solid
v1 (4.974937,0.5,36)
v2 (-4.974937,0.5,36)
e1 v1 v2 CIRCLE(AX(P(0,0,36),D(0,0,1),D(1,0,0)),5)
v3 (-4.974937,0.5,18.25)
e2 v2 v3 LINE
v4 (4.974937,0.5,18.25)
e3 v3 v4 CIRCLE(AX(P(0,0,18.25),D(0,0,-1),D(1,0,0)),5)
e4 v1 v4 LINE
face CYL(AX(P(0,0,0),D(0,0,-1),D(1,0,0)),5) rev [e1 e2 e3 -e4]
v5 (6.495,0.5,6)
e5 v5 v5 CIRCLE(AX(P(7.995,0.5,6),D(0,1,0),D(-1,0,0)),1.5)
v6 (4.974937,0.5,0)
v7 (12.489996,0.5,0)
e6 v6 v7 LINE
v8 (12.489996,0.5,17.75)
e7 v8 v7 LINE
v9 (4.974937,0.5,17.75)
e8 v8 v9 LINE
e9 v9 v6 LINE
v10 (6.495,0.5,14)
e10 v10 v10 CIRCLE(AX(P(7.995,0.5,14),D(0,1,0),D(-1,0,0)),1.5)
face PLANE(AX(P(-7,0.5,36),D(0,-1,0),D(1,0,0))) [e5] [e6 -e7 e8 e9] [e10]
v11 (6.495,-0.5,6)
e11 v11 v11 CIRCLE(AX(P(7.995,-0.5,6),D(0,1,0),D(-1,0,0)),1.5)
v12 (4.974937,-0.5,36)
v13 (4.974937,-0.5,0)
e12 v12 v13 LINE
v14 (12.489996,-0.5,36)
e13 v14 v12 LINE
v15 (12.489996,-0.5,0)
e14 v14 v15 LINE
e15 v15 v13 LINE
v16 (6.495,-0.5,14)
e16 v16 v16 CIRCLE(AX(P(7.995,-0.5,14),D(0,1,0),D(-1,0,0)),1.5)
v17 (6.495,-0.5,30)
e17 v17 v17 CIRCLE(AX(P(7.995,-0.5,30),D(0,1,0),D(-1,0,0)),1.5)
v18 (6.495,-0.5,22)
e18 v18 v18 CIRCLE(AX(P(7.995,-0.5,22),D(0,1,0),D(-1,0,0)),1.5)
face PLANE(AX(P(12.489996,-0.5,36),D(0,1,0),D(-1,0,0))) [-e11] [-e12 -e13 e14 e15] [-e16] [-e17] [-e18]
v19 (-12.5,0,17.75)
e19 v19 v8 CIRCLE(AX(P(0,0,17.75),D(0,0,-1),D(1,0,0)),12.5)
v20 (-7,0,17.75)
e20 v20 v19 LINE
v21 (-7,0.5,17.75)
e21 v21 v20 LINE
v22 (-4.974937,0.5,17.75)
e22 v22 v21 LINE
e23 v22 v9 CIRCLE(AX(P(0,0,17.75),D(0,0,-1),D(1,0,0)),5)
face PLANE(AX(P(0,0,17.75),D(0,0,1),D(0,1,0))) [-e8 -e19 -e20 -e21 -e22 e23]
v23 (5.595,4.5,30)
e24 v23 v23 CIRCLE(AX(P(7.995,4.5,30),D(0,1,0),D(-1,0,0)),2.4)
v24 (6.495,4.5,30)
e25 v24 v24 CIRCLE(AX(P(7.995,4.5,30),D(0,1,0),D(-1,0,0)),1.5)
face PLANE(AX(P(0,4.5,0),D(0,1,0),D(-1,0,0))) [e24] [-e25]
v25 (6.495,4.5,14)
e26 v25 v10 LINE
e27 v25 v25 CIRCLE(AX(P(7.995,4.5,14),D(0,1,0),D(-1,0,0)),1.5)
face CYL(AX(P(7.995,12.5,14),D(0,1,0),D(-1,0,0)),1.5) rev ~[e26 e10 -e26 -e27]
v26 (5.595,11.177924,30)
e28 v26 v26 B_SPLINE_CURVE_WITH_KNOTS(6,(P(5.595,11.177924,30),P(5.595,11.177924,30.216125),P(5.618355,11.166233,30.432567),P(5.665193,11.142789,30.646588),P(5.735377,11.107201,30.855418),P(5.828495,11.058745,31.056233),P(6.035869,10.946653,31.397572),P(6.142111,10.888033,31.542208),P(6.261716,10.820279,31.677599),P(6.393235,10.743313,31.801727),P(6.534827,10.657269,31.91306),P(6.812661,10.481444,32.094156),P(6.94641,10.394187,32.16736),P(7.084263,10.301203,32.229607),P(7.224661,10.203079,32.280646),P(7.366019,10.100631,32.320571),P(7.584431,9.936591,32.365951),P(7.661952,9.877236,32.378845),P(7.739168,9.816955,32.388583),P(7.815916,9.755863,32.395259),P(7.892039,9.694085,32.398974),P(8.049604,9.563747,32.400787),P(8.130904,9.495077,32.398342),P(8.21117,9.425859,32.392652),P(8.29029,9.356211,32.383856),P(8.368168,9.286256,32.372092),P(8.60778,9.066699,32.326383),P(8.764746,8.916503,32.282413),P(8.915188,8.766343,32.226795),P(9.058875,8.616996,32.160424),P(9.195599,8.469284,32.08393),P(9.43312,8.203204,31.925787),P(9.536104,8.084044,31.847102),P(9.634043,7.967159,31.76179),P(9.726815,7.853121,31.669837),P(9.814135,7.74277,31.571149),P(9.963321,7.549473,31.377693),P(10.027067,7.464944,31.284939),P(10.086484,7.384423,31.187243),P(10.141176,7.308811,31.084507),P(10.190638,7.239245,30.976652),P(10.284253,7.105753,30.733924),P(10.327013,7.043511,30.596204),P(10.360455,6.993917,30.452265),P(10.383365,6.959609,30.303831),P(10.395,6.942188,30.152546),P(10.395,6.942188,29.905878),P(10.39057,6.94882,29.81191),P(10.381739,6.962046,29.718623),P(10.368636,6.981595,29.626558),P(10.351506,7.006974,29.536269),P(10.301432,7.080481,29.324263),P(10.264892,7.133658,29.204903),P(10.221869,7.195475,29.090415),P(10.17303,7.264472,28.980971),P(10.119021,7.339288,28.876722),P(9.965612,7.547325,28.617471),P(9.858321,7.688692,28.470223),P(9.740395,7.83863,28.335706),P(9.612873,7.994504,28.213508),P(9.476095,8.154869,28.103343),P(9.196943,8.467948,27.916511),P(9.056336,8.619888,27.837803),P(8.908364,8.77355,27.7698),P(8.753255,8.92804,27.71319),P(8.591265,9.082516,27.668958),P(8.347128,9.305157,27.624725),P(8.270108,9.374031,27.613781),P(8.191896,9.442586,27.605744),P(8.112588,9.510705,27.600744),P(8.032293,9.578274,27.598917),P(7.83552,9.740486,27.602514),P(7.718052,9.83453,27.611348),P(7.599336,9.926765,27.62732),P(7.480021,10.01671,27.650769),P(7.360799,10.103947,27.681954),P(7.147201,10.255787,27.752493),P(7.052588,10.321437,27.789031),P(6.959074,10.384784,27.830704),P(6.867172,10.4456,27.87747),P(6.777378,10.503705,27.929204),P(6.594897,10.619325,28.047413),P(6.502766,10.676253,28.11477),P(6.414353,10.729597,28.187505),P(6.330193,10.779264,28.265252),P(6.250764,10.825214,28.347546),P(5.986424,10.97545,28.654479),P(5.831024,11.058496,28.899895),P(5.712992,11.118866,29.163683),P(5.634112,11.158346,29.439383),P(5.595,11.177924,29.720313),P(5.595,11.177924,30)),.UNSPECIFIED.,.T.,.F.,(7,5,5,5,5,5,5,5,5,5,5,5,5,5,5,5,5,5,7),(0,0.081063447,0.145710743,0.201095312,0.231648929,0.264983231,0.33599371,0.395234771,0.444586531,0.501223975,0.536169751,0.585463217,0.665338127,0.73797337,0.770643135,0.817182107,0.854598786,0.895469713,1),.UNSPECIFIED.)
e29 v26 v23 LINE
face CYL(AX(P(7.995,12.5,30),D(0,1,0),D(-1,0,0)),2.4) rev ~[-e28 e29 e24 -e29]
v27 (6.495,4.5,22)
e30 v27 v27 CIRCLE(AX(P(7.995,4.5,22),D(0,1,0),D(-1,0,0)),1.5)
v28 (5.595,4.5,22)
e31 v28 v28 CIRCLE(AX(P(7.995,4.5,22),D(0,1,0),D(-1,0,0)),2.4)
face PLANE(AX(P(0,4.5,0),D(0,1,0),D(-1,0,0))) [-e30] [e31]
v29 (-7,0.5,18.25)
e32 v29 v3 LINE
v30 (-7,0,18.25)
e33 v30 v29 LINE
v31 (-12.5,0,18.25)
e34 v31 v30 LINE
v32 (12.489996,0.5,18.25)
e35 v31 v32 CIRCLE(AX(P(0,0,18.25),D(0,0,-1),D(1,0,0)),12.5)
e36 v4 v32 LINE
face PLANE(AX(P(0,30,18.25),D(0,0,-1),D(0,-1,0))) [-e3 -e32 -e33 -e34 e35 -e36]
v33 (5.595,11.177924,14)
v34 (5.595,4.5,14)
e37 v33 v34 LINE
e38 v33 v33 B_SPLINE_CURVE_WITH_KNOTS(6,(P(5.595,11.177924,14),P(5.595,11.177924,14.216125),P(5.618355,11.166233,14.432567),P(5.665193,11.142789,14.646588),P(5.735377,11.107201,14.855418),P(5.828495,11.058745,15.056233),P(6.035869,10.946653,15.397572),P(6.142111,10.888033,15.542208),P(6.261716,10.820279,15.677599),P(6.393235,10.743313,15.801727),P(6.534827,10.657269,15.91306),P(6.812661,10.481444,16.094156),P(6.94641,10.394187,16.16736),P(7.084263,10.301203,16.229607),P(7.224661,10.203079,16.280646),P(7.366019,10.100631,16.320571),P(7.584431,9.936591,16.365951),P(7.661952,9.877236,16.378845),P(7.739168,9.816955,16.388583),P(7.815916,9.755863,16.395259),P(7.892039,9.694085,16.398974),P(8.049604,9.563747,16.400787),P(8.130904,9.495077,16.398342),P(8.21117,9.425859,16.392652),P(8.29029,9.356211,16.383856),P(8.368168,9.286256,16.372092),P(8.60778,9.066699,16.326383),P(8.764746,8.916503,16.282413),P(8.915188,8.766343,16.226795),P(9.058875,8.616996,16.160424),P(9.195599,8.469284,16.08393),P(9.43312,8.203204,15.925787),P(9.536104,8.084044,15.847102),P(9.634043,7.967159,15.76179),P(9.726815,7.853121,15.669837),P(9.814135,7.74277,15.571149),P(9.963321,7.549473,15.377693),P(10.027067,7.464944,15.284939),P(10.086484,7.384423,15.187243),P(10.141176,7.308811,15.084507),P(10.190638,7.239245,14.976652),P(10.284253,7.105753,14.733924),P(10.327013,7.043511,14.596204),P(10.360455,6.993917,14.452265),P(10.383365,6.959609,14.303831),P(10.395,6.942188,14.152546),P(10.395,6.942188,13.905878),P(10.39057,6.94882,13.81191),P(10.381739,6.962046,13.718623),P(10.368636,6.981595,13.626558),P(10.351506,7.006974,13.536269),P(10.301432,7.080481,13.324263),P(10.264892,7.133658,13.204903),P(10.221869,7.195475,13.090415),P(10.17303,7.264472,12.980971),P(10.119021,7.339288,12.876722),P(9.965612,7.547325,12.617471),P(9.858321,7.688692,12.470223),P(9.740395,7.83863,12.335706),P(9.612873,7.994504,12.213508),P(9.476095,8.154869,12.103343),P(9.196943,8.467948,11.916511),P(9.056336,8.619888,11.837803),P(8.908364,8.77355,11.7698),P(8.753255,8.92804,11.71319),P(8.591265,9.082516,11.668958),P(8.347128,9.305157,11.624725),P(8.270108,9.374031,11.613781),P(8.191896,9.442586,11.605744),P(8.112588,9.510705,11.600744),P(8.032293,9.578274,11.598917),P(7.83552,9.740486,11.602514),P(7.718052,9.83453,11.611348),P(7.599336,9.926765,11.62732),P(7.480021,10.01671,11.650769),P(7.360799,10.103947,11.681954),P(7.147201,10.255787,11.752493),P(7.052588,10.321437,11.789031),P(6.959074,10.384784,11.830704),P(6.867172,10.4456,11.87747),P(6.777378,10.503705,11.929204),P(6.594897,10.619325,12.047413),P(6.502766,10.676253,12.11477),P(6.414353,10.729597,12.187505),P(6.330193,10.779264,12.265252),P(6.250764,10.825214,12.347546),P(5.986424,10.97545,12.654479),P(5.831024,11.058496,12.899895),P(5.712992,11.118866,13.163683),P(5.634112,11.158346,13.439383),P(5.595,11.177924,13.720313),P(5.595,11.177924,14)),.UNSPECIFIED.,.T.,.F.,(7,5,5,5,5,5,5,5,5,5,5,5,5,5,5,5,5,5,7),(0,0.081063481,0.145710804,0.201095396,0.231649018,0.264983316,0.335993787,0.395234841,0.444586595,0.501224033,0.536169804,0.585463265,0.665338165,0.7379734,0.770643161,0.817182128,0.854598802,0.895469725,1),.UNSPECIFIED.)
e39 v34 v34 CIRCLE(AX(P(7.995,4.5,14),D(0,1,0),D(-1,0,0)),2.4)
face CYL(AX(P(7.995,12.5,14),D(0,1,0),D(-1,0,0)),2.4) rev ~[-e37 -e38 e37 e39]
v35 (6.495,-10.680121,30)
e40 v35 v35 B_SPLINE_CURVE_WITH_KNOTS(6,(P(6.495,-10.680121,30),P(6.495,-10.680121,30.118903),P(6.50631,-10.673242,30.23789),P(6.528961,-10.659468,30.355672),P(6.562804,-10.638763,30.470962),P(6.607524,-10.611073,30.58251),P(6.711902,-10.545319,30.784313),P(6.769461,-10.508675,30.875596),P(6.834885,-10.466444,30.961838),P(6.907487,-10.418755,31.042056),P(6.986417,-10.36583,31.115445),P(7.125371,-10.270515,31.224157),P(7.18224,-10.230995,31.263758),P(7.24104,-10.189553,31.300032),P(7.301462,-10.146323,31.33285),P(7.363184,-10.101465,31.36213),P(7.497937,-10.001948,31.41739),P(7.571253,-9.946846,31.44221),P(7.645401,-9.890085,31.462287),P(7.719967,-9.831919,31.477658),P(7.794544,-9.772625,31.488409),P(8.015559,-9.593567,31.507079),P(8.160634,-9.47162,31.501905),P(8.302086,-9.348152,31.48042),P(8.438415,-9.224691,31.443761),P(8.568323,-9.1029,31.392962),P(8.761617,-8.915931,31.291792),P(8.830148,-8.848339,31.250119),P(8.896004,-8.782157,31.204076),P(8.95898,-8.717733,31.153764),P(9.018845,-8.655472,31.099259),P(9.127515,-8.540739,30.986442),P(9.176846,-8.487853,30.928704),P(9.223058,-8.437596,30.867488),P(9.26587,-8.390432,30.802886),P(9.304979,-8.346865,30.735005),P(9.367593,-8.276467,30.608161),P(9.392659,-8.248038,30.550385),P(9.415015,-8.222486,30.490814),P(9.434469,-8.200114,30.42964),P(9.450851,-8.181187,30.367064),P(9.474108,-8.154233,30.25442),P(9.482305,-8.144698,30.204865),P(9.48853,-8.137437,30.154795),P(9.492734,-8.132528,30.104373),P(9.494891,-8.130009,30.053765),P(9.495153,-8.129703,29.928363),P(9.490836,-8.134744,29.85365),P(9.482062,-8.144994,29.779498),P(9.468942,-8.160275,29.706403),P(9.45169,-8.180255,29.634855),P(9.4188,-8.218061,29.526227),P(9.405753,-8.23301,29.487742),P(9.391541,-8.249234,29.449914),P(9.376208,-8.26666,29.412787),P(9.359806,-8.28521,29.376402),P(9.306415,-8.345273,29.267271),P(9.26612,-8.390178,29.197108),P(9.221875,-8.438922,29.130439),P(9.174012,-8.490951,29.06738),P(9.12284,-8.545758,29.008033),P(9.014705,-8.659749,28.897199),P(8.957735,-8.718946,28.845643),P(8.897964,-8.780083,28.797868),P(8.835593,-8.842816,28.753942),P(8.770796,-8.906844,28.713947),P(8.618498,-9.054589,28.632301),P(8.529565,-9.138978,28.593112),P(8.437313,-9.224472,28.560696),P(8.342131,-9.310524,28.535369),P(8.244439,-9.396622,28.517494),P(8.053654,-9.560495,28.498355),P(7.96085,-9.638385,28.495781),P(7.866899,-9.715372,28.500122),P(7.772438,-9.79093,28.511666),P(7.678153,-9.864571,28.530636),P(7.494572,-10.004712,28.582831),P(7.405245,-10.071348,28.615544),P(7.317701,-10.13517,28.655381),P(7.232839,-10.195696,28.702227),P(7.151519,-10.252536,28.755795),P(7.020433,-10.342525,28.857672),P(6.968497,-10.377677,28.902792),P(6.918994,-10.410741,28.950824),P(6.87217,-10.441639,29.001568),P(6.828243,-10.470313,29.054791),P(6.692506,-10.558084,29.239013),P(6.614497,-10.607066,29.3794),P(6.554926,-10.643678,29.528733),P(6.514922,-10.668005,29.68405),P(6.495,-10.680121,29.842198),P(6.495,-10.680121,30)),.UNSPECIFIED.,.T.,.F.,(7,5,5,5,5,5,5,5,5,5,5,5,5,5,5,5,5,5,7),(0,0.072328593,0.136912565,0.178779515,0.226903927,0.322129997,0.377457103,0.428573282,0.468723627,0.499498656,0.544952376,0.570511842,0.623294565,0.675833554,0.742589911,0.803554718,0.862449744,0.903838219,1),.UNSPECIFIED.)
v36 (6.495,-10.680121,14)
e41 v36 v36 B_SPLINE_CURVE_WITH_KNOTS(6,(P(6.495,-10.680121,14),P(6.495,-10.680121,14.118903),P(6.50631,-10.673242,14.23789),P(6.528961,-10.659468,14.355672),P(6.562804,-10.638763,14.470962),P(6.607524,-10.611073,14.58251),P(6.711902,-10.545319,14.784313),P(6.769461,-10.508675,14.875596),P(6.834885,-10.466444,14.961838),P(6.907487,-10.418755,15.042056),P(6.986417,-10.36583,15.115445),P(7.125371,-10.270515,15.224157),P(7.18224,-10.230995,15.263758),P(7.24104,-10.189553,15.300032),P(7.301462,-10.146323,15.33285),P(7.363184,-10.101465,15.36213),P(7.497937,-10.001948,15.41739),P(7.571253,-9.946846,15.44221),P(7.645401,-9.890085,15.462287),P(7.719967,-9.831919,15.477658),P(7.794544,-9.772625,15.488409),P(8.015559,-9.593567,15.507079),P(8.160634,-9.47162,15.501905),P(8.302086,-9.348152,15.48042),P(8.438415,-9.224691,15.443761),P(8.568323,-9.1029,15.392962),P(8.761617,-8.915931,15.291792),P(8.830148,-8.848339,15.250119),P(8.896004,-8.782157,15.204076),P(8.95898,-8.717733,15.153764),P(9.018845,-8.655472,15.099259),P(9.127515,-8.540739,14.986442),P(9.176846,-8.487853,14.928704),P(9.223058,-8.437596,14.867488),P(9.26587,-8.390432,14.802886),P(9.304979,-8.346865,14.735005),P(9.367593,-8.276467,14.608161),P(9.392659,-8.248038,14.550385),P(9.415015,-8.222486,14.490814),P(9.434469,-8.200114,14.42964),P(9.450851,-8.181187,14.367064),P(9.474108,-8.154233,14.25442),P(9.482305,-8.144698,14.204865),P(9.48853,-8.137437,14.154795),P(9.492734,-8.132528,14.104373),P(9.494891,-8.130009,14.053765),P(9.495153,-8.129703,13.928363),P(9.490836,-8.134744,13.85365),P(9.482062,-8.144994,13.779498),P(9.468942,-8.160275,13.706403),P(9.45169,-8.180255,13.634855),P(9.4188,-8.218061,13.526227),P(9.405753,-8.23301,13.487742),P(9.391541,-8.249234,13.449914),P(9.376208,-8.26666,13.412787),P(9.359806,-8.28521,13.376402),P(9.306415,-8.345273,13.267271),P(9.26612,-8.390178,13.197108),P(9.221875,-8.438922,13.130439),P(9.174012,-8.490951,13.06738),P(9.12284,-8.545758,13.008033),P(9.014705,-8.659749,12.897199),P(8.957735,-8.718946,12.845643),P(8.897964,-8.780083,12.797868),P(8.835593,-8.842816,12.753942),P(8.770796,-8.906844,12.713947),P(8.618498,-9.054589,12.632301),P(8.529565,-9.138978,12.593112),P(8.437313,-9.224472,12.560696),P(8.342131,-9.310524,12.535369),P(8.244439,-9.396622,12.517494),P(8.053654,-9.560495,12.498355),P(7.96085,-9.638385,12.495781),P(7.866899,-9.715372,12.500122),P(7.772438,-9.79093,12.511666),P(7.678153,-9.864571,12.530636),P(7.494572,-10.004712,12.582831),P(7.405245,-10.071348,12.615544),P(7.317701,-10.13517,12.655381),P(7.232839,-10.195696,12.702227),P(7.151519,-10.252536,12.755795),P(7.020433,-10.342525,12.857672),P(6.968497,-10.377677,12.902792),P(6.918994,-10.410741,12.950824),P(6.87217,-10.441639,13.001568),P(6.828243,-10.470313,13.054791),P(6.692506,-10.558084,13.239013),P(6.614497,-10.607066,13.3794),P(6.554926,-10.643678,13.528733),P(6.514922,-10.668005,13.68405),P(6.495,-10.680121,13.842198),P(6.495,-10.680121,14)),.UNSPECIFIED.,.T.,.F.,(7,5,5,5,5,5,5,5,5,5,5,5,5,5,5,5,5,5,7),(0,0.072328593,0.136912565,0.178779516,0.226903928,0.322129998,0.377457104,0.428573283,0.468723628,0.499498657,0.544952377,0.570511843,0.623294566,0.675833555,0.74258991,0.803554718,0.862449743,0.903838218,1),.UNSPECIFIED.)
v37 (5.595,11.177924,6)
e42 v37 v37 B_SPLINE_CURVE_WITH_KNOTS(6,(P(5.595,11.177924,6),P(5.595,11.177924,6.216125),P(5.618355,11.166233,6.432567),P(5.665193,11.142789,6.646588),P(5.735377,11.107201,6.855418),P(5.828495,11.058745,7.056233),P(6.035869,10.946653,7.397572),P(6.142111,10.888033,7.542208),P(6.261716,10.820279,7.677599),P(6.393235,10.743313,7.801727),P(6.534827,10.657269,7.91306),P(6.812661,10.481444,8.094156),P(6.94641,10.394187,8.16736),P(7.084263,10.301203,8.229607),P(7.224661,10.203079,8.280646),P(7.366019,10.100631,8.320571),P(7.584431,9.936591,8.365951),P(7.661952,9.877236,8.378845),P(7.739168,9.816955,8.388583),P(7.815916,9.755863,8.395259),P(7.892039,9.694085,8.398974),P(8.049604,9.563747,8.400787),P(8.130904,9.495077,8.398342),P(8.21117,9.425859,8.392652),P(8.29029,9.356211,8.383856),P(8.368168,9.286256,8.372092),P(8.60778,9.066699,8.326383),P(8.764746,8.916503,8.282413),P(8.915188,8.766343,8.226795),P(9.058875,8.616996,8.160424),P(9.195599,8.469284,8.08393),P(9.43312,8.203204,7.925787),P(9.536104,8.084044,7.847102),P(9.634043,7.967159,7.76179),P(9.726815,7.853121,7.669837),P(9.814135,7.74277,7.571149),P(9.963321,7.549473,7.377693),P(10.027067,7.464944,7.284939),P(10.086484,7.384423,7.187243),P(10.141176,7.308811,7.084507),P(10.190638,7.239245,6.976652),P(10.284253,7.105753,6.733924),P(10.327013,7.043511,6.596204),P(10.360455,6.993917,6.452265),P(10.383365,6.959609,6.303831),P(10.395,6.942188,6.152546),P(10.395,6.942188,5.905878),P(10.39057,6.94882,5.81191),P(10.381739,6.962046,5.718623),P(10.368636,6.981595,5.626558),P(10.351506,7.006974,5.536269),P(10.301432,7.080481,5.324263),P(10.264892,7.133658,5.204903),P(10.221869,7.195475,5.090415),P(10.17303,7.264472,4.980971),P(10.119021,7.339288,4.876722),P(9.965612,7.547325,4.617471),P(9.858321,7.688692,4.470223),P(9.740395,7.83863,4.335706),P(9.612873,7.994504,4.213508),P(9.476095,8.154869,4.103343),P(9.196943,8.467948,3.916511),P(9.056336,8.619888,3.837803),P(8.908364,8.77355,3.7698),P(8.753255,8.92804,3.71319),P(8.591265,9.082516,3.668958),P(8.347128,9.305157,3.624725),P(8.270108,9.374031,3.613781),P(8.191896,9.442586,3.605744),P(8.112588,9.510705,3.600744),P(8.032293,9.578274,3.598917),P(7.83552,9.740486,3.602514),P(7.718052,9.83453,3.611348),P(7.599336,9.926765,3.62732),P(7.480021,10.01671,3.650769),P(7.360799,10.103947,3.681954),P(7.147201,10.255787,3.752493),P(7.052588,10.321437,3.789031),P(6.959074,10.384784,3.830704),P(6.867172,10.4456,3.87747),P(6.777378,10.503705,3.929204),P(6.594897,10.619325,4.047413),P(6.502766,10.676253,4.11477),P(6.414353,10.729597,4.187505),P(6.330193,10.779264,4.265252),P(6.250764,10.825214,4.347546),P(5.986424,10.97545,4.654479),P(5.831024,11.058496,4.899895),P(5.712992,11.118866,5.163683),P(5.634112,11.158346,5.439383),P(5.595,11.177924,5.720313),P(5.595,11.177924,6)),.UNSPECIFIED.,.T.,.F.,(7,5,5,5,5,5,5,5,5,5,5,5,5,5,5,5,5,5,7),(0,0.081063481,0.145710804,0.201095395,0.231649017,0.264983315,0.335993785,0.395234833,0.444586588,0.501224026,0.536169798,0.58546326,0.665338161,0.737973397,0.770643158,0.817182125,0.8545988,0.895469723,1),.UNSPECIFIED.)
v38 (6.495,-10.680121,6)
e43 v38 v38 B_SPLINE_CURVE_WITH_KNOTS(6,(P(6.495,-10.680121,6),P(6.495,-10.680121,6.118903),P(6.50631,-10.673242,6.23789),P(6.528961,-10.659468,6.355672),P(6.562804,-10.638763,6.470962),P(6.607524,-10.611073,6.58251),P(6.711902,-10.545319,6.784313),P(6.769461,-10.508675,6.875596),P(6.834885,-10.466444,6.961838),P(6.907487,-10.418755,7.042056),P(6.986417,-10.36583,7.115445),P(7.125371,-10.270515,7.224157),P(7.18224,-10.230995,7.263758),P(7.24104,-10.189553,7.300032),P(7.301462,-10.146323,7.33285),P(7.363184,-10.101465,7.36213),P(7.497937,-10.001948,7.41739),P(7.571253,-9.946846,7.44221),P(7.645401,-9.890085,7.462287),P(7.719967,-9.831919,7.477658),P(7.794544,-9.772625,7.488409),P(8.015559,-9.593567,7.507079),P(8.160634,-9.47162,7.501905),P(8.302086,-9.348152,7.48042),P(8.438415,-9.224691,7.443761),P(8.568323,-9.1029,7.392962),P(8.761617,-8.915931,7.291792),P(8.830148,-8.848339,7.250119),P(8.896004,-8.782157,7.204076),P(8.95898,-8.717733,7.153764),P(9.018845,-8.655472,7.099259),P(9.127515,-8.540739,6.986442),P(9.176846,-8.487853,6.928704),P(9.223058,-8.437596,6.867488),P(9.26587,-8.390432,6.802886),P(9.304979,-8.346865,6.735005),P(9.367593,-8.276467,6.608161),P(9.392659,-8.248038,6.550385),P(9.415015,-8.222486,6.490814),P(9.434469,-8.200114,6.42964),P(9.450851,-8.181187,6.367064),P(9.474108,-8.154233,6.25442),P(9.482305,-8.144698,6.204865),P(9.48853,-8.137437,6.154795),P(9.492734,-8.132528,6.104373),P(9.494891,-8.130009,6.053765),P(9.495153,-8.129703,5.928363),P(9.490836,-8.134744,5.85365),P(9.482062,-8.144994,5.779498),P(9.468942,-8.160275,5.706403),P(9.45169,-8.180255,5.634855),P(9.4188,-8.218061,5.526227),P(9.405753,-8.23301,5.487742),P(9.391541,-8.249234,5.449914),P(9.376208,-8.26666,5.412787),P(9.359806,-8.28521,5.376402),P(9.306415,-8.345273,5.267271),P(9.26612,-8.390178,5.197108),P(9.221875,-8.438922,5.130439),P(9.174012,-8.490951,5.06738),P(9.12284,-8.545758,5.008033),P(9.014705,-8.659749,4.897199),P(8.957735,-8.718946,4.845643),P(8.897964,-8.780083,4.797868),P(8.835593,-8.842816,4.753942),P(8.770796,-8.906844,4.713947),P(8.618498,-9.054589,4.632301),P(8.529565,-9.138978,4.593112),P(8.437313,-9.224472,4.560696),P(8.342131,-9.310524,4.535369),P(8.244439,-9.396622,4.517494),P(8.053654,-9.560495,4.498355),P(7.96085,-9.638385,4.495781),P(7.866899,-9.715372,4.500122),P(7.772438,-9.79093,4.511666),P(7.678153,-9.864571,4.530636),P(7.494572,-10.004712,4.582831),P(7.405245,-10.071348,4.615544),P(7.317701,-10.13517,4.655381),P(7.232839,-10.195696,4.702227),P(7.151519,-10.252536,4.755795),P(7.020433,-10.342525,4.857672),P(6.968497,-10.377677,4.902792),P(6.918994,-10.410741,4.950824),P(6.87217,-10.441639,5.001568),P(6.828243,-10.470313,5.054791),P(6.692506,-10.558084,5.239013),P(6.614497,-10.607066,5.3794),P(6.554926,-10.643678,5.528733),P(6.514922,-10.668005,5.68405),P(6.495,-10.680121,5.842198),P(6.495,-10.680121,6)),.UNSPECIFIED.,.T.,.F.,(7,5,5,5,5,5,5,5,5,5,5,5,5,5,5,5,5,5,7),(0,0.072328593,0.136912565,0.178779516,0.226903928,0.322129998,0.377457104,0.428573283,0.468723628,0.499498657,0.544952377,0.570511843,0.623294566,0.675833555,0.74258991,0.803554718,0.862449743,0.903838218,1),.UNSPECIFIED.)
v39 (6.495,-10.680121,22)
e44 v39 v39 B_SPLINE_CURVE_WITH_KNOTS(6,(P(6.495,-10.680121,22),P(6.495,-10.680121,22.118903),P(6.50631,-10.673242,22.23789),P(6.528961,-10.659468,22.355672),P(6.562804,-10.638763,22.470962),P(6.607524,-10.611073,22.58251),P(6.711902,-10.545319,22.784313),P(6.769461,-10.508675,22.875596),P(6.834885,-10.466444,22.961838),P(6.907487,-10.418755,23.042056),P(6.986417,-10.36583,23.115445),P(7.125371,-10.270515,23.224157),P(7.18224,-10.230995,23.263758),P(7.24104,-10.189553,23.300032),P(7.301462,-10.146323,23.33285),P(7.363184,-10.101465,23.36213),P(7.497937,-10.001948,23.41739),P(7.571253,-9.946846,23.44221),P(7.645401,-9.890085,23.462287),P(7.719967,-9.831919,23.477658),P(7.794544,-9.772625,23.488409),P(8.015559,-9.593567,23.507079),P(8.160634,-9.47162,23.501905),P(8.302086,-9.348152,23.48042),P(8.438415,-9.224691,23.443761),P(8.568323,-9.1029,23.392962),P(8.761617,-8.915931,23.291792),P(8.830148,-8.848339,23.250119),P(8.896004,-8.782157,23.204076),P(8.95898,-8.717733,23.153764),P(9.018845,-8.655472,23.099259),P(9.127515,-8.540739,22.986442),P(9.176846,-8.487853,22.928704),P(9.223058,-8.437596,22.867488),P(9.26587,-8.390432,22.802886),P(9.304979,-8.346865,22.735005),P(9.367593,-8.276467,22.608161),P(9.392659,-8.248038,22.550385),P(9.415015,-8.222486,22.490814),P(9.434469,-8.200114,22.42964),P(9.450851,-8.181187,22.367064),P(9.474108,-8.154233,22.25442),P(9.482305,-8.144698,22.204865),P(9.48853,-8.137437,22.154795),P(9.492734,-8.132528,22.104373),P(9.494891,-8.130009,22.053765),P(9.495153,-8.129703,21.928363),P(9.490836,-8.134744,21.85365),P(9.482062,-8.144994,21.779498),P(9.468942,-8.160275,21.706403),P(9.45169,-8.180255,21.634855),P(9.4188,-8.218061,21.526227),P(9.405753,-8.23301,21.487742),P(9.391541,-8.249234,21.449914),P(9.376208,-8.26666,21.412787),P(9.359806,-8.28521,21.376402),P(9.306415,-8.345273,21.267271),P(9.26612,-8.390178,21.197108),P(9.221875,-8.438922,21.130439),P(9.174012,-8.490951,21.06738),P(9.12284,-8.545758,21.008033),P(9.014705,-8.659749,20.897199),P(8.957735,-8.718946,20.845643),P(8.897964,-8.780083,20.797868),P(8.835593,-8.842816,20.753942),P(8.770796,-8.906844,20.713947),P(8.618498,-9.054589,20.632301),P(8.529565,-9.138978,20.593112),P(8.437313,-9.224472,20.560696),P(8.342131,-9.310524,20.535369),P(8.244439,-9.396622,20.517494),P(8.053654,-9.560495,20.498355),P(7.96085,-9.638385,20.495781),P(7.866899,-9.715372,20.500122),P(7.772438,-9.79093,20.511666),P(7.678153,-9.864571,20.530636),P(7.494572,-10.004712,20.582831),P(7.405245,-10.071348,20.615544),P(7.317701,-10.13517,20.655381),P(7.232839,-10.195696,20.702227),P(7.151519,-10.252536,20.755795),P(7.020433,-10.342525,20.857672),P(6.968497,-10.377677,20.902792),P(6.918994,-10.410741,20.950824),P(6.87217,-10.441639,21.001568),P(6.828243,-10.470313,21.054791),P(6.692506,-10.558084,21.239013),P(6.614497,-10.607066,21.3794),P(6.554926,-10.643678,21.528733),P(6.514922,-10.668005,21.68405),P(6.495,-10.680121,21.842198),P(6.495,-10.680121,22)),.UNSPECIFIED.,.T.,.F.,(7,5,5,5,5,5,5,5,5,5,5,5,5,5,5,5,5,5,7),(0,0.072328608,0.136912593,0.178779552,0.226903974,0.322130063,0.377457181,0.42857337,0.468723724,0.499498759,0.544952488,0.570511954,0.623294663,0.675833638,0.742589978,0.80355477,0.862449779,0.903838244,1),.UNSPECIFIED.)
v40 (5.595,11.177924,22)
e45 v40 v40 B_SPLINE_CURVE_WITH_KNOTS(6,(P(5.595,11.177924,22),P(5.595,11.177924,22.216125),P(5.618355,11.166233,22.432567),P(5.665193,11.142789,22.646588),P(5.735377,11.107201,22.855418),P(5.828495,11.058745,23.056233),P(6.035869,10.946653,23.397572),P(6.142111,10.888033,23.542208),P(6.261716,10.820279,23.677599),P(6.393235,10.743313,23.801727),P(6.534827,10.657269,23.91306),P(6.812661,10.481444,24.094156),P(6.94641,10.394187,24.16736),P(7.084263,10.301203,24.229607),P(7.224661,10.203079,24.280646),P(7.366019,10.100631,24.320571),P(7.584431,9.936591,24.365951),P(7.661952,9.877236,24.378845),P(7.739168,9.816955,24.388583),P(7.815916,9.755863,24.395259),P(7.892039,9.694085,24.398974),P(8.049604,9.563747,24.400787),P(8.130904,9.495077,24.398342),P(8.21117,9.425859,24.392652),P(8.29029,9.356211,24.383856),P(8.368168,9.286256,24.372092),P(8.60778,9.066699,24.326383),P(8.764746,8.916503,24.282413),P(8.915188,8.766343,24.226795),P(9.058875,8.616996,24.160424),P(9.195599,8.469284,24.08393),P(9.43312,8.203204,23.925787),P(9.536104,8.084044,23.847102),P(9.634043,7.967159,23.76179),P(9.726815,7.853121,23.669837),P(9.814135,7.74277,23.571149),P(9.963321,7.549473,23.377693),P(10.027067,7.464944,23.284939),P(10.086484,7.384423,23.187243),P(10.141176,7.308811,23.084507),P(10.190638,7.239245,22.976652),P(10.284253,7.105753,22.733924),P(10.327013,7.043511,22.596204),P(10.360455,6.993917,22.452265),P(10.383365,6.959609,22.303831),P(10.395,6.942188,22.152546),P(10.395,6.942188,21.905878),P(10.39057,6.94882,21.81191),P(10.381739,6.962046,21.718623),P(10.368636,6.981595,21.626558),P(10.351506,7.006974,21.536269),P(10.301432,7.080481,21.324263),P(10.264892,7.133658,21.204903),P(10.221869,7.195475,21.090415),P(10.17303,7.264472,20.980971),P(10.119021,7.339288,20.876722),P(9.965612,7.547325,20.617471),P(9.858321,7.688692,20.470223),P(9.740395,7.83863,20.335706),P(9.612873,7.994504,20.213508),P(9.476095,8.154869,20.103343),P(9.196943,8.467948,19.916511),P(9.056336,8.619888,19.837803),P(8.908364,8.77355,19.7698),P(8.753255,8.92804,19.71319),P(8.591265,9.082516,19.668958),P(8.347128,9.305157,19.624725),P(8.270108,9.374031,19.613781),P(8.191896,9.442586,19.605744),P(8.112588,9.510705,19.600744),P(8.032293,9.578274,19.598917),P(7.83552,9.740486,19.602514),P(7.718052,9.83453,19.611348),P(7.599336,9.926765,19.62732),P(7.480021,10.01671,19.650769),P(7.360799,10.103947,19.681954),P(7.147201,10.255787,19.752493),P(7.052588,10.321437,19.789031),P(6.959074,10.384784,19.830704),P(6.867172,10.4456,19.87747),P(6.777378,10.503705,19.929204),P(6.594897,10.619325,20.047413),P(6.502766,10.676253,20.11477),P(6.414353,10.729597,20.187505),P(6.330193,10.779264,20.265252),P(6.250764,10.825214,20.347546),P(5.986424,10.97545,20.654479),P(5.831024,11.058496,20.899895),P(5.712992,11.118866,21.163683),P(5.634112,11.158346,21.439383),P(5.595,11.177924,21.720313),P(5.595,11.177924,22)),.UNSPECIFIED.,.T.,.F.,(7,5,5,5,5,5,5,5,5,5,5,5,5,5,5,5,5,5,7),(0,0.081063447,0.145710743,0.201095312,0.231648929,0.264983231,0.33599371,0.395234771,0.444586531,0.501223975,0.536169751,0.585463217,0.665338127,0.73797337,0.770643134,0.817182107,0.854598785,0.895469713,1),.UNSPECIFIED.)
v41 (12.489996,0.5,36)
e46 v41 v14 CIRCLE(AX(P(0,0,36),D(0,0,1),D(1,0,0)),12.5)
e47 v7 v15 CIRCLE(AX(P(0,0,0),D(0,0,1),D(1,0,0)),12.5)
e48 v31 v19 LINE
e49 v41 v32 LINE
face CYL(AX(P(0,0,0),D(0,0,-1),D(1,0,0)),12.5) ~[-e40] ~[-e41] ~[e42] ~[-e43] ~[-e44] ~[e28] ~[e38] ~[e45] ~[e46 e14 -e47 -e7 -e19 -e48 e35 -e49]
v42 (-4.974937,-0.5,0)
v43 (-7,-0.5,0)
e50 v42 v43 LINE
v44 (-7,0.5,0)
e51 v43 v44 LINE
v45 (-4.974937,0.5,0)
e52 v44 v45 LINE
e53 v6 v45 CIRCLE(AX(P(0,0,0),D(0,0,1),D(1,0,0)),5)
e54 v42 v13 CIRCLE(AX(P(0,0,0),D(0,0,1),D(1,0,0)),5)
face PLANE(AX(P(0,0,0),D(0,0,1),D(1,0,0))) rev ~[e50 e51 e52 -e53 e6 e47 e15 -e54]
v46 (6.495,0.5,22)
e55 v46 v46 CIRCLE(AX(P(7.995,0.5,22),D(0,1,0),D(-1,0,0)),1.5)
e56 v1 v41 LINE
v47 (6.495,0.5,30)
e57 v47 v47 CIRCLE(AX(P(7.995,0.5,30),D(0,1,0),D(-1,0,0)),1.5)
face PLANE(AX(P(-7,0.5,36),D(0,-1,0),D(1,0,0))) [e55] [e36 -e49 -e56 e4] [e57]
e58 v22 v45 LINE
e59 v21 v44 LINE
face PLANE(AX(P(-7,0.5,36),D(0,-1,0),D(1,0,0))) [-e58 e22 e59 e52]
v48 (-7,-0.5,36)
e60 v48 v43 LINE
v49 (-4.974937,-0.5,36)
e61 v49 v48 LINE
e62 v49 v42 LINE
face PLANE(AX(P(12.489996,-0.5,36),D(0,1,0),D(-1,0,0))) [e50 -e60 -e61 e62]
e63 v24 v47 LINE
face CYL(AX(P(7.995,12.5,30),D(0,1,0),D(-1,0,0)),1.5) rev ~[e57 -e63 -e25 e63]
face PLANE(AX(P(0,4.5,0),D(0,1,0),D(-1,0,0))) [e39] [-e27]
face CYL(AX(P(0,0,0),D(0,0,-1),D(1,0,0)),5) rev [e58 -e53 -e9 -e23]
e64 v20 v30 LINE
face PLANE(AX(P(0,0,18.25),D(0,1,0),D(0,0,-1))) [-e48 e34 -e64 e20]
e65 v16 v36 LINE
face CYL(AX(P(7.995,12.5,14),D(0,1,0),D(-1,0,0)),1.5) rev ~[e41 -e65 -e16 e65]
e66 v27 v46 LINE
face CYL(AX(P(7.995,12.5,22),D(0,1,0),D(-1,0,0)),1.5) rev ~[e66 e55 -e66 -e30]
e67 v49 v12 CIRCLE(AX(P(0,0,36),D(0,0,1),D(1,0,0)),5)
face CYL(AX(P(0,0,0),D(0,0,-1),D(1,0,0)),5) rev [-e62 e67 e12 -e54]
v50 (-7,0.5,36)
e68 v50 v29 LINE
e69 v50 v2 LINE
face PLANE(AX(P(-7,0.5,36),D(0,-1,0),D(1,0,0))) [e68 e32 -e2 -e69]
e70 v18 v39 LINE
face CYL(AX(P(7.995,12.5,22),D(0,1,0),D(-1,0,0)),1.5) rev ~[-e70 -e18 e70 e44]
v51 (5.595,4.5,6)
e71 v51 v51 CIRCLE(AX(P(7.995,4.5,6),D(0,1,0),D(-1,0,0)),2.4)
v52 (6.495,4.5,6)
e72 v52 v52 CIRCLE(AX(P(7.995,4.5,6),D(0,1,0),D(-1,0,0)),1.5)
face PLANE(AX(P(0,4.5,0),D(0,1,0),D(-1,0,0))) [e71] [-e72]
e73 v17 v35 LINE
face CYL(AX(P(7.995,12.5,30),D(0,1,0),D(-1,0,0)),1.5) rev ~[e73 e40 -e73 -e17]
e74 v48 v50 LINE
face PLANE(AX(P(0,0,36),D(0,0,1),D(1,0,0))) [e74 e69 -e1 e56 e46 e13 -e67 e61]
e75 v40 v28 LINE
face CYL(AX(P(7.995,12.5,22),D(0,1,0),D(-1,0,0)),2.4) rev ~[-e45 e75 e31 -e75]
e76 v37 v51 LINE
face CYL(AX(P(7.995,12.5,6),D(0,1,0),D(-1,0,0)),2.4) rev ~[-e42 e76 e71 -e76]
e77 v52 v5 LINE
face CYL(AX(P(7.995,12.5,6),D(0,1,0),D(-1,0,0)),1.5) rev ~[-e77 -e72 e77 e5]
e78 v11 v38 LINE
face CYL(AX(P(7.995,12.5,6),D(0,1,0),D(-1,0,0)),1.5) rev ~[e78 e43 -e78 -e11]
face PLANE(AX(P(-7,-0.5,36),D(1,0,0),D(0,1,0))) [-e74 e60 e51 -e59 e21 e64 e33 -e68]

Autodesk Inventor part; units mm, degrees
ref_plane "YZ Plane" through (0, 0, 0) normal (1, 0, 0) x (0, 1, 0)
ref_plane "XY Plane" through (0, 0, 0) normal (0, 0, 1) x (1, 0, 0)
sketch "Sketch1" plane through (0, 0, 0) normal (0, 0, 1) x (1, 0, 0)
  circle A0 centre (0, 0) radius 12.5
  circle A1 centre (0, 0) radius 5
  dimension "d0" = 25
  dimension "d1" = 10
extrude "Extrusion1" add sketch "Sketch1" along normal blind 36
sketch "Sketch3" plane through (0, 0, 36) normal (0, 0, 1) x (1, 0, 0)
  line L0 (-7, 0.5) -> (12.5, 0.5)
  line L1 (12.5, 0.5) -> (12.5, -0.5)
  line L2 (12.5, -0.5) -> (-7, -0.5)
  line L3 (-7, -0.5) -> (-7, 0.5)
  line L4 (-7, 0.5) -> (12.5, -0.5) construction
  line L5 (12.5, 0.5) -> (-7, -0.5) construction
  circle A0 centre (0, 0) radius 12.5 projected
  point P0 (-7, 0)
  point P1 (2.75, 0)
  point P2 (-7, 0)
  point P3 (12.5, 0)
  point P4 (12.49, -0.5)
  point P5 (12.49, 0.5)
  dimension "d7" = 1
  dimension "d10" = 7
extrude "Extrusion3" cut sketch "Sketch3" against normal through all contours L0 A0 L2 L3 picked at (-0.5, 0)
sketch "Sketch4" plane through (0, 0, 0) normal (1, 0, 0) x (0, 1, 0)
  line L0 (30, 18.25) -> (0, 18.25)
  line L1 (0, 18.25) -> (0, 17.75)
  line L2 (0, 17.75) -> (30, 17.75)
  line L3 (30, 17.75) -> (30, 18.25)
  line L4 (30, 18.25) -> (0, 17.75) construction
  line L5 (0, 18.25) -> (30, 17.75) construction
  line L6 (12.5, 0) -> (-12.5, 0) projected
  point P0 (0, 0)
  point P1 (15, 18)
  point P2 (0.5, 0)
  point P3 (-0.5, 0)
  point P4 (15, 18.25)
  dimension "d11" = 0.5
  dimension "d12" = 0
  dimension "d13" = 30
  dimension "d18" = 18
extrude "Extrusion4" cut sketch "Sketch4" along normal through all both and the other way through all
ref_plane "Work Plane1" through (0, 12.5, 0) normal (0, 1, 0) x (-1, 0, 0)
sketch "Sketch5" plane through (0, 12.5, 0) normal (0, 1, 0) x (-1, 0, 0)
  circle A0 centre (-7.995, 22) radius 2.4
  line L0 (14.0583, 18) -> (-17.4822, 18)
  line L1 (12.5, 0) -> (-12.49, 0) projected
  circle A1 centre (-7.995, 30) radius 2.4
  line L2 (12.5, 36) -> (-12.49, 36) projected
  circle A2 centre (-7.995, 14) radius 2.4
  circle A3 centre (-7.995, 6) radius 2.4
  point P0 (0, 0)
  point P1 (0.005, 36)
  dimension "d17" = 18
  dimension "d19" = 4.8
  dimension "d20" = 4.8
  dimension "d21" = 8
  dimension "d22" = 6
  dimension "d23" = 8
extrude "Extrusion5" cut sketch "Sketch5" against normal blind 8
sketch "Sketch6" plane through (0, 12.5, 0) normal (0, 1, 0) x (-1, 0, 0)
  circle A0 centre (-7.995, 30) radius 2.4 projected
  circle A1 centre (-7.995, 30) radius 1.5
  circle A2 centre (-7.995, 22) radius 2.4 projected
  circle A3 centre (-7.995, 22) radius 1.5
  circle A4 centre (-7.995, 14) radius 2.4 projected
  circle A5 centre (-7.995, 14) radius 1.5
  circle A6 centre (-7.995, 6) radius 2.4 projected
  circle A7 centre (-7.995, 6) radius 1.5
  point P0 (0, 0)
  dimension "d26" = 3
extrude "Extrusion6" cut sketch "Sketch6" against normal through all contours A1 | A3 | A5 | A7
sketch "Sketch2" plane through (0, 0, 0) normal (0, 1, 0) x (-1, 0, 0)
  circle A0 centre (0, 5.5789) radius 1.6
  line L0 (16.8162, 18) -> (-14.2715, 18)
  line L1 (12.5, 36) -> (-12.5, 36) projected
  line L2 (12.5, 0) -> (-12.5, 0) projected
  line L3 (12.5, 36) -> (12.5, 18)
  line L4 (12.5, 18) -> (12.5, 0)
  circle A1 centre (0, 30.4211) radius 1.6
  point P0 (0, 0)
  dimension "d4" = 3.2
equation "\"d20\" = d19"
properties part number "coupling" material "Aluminum 6061"
